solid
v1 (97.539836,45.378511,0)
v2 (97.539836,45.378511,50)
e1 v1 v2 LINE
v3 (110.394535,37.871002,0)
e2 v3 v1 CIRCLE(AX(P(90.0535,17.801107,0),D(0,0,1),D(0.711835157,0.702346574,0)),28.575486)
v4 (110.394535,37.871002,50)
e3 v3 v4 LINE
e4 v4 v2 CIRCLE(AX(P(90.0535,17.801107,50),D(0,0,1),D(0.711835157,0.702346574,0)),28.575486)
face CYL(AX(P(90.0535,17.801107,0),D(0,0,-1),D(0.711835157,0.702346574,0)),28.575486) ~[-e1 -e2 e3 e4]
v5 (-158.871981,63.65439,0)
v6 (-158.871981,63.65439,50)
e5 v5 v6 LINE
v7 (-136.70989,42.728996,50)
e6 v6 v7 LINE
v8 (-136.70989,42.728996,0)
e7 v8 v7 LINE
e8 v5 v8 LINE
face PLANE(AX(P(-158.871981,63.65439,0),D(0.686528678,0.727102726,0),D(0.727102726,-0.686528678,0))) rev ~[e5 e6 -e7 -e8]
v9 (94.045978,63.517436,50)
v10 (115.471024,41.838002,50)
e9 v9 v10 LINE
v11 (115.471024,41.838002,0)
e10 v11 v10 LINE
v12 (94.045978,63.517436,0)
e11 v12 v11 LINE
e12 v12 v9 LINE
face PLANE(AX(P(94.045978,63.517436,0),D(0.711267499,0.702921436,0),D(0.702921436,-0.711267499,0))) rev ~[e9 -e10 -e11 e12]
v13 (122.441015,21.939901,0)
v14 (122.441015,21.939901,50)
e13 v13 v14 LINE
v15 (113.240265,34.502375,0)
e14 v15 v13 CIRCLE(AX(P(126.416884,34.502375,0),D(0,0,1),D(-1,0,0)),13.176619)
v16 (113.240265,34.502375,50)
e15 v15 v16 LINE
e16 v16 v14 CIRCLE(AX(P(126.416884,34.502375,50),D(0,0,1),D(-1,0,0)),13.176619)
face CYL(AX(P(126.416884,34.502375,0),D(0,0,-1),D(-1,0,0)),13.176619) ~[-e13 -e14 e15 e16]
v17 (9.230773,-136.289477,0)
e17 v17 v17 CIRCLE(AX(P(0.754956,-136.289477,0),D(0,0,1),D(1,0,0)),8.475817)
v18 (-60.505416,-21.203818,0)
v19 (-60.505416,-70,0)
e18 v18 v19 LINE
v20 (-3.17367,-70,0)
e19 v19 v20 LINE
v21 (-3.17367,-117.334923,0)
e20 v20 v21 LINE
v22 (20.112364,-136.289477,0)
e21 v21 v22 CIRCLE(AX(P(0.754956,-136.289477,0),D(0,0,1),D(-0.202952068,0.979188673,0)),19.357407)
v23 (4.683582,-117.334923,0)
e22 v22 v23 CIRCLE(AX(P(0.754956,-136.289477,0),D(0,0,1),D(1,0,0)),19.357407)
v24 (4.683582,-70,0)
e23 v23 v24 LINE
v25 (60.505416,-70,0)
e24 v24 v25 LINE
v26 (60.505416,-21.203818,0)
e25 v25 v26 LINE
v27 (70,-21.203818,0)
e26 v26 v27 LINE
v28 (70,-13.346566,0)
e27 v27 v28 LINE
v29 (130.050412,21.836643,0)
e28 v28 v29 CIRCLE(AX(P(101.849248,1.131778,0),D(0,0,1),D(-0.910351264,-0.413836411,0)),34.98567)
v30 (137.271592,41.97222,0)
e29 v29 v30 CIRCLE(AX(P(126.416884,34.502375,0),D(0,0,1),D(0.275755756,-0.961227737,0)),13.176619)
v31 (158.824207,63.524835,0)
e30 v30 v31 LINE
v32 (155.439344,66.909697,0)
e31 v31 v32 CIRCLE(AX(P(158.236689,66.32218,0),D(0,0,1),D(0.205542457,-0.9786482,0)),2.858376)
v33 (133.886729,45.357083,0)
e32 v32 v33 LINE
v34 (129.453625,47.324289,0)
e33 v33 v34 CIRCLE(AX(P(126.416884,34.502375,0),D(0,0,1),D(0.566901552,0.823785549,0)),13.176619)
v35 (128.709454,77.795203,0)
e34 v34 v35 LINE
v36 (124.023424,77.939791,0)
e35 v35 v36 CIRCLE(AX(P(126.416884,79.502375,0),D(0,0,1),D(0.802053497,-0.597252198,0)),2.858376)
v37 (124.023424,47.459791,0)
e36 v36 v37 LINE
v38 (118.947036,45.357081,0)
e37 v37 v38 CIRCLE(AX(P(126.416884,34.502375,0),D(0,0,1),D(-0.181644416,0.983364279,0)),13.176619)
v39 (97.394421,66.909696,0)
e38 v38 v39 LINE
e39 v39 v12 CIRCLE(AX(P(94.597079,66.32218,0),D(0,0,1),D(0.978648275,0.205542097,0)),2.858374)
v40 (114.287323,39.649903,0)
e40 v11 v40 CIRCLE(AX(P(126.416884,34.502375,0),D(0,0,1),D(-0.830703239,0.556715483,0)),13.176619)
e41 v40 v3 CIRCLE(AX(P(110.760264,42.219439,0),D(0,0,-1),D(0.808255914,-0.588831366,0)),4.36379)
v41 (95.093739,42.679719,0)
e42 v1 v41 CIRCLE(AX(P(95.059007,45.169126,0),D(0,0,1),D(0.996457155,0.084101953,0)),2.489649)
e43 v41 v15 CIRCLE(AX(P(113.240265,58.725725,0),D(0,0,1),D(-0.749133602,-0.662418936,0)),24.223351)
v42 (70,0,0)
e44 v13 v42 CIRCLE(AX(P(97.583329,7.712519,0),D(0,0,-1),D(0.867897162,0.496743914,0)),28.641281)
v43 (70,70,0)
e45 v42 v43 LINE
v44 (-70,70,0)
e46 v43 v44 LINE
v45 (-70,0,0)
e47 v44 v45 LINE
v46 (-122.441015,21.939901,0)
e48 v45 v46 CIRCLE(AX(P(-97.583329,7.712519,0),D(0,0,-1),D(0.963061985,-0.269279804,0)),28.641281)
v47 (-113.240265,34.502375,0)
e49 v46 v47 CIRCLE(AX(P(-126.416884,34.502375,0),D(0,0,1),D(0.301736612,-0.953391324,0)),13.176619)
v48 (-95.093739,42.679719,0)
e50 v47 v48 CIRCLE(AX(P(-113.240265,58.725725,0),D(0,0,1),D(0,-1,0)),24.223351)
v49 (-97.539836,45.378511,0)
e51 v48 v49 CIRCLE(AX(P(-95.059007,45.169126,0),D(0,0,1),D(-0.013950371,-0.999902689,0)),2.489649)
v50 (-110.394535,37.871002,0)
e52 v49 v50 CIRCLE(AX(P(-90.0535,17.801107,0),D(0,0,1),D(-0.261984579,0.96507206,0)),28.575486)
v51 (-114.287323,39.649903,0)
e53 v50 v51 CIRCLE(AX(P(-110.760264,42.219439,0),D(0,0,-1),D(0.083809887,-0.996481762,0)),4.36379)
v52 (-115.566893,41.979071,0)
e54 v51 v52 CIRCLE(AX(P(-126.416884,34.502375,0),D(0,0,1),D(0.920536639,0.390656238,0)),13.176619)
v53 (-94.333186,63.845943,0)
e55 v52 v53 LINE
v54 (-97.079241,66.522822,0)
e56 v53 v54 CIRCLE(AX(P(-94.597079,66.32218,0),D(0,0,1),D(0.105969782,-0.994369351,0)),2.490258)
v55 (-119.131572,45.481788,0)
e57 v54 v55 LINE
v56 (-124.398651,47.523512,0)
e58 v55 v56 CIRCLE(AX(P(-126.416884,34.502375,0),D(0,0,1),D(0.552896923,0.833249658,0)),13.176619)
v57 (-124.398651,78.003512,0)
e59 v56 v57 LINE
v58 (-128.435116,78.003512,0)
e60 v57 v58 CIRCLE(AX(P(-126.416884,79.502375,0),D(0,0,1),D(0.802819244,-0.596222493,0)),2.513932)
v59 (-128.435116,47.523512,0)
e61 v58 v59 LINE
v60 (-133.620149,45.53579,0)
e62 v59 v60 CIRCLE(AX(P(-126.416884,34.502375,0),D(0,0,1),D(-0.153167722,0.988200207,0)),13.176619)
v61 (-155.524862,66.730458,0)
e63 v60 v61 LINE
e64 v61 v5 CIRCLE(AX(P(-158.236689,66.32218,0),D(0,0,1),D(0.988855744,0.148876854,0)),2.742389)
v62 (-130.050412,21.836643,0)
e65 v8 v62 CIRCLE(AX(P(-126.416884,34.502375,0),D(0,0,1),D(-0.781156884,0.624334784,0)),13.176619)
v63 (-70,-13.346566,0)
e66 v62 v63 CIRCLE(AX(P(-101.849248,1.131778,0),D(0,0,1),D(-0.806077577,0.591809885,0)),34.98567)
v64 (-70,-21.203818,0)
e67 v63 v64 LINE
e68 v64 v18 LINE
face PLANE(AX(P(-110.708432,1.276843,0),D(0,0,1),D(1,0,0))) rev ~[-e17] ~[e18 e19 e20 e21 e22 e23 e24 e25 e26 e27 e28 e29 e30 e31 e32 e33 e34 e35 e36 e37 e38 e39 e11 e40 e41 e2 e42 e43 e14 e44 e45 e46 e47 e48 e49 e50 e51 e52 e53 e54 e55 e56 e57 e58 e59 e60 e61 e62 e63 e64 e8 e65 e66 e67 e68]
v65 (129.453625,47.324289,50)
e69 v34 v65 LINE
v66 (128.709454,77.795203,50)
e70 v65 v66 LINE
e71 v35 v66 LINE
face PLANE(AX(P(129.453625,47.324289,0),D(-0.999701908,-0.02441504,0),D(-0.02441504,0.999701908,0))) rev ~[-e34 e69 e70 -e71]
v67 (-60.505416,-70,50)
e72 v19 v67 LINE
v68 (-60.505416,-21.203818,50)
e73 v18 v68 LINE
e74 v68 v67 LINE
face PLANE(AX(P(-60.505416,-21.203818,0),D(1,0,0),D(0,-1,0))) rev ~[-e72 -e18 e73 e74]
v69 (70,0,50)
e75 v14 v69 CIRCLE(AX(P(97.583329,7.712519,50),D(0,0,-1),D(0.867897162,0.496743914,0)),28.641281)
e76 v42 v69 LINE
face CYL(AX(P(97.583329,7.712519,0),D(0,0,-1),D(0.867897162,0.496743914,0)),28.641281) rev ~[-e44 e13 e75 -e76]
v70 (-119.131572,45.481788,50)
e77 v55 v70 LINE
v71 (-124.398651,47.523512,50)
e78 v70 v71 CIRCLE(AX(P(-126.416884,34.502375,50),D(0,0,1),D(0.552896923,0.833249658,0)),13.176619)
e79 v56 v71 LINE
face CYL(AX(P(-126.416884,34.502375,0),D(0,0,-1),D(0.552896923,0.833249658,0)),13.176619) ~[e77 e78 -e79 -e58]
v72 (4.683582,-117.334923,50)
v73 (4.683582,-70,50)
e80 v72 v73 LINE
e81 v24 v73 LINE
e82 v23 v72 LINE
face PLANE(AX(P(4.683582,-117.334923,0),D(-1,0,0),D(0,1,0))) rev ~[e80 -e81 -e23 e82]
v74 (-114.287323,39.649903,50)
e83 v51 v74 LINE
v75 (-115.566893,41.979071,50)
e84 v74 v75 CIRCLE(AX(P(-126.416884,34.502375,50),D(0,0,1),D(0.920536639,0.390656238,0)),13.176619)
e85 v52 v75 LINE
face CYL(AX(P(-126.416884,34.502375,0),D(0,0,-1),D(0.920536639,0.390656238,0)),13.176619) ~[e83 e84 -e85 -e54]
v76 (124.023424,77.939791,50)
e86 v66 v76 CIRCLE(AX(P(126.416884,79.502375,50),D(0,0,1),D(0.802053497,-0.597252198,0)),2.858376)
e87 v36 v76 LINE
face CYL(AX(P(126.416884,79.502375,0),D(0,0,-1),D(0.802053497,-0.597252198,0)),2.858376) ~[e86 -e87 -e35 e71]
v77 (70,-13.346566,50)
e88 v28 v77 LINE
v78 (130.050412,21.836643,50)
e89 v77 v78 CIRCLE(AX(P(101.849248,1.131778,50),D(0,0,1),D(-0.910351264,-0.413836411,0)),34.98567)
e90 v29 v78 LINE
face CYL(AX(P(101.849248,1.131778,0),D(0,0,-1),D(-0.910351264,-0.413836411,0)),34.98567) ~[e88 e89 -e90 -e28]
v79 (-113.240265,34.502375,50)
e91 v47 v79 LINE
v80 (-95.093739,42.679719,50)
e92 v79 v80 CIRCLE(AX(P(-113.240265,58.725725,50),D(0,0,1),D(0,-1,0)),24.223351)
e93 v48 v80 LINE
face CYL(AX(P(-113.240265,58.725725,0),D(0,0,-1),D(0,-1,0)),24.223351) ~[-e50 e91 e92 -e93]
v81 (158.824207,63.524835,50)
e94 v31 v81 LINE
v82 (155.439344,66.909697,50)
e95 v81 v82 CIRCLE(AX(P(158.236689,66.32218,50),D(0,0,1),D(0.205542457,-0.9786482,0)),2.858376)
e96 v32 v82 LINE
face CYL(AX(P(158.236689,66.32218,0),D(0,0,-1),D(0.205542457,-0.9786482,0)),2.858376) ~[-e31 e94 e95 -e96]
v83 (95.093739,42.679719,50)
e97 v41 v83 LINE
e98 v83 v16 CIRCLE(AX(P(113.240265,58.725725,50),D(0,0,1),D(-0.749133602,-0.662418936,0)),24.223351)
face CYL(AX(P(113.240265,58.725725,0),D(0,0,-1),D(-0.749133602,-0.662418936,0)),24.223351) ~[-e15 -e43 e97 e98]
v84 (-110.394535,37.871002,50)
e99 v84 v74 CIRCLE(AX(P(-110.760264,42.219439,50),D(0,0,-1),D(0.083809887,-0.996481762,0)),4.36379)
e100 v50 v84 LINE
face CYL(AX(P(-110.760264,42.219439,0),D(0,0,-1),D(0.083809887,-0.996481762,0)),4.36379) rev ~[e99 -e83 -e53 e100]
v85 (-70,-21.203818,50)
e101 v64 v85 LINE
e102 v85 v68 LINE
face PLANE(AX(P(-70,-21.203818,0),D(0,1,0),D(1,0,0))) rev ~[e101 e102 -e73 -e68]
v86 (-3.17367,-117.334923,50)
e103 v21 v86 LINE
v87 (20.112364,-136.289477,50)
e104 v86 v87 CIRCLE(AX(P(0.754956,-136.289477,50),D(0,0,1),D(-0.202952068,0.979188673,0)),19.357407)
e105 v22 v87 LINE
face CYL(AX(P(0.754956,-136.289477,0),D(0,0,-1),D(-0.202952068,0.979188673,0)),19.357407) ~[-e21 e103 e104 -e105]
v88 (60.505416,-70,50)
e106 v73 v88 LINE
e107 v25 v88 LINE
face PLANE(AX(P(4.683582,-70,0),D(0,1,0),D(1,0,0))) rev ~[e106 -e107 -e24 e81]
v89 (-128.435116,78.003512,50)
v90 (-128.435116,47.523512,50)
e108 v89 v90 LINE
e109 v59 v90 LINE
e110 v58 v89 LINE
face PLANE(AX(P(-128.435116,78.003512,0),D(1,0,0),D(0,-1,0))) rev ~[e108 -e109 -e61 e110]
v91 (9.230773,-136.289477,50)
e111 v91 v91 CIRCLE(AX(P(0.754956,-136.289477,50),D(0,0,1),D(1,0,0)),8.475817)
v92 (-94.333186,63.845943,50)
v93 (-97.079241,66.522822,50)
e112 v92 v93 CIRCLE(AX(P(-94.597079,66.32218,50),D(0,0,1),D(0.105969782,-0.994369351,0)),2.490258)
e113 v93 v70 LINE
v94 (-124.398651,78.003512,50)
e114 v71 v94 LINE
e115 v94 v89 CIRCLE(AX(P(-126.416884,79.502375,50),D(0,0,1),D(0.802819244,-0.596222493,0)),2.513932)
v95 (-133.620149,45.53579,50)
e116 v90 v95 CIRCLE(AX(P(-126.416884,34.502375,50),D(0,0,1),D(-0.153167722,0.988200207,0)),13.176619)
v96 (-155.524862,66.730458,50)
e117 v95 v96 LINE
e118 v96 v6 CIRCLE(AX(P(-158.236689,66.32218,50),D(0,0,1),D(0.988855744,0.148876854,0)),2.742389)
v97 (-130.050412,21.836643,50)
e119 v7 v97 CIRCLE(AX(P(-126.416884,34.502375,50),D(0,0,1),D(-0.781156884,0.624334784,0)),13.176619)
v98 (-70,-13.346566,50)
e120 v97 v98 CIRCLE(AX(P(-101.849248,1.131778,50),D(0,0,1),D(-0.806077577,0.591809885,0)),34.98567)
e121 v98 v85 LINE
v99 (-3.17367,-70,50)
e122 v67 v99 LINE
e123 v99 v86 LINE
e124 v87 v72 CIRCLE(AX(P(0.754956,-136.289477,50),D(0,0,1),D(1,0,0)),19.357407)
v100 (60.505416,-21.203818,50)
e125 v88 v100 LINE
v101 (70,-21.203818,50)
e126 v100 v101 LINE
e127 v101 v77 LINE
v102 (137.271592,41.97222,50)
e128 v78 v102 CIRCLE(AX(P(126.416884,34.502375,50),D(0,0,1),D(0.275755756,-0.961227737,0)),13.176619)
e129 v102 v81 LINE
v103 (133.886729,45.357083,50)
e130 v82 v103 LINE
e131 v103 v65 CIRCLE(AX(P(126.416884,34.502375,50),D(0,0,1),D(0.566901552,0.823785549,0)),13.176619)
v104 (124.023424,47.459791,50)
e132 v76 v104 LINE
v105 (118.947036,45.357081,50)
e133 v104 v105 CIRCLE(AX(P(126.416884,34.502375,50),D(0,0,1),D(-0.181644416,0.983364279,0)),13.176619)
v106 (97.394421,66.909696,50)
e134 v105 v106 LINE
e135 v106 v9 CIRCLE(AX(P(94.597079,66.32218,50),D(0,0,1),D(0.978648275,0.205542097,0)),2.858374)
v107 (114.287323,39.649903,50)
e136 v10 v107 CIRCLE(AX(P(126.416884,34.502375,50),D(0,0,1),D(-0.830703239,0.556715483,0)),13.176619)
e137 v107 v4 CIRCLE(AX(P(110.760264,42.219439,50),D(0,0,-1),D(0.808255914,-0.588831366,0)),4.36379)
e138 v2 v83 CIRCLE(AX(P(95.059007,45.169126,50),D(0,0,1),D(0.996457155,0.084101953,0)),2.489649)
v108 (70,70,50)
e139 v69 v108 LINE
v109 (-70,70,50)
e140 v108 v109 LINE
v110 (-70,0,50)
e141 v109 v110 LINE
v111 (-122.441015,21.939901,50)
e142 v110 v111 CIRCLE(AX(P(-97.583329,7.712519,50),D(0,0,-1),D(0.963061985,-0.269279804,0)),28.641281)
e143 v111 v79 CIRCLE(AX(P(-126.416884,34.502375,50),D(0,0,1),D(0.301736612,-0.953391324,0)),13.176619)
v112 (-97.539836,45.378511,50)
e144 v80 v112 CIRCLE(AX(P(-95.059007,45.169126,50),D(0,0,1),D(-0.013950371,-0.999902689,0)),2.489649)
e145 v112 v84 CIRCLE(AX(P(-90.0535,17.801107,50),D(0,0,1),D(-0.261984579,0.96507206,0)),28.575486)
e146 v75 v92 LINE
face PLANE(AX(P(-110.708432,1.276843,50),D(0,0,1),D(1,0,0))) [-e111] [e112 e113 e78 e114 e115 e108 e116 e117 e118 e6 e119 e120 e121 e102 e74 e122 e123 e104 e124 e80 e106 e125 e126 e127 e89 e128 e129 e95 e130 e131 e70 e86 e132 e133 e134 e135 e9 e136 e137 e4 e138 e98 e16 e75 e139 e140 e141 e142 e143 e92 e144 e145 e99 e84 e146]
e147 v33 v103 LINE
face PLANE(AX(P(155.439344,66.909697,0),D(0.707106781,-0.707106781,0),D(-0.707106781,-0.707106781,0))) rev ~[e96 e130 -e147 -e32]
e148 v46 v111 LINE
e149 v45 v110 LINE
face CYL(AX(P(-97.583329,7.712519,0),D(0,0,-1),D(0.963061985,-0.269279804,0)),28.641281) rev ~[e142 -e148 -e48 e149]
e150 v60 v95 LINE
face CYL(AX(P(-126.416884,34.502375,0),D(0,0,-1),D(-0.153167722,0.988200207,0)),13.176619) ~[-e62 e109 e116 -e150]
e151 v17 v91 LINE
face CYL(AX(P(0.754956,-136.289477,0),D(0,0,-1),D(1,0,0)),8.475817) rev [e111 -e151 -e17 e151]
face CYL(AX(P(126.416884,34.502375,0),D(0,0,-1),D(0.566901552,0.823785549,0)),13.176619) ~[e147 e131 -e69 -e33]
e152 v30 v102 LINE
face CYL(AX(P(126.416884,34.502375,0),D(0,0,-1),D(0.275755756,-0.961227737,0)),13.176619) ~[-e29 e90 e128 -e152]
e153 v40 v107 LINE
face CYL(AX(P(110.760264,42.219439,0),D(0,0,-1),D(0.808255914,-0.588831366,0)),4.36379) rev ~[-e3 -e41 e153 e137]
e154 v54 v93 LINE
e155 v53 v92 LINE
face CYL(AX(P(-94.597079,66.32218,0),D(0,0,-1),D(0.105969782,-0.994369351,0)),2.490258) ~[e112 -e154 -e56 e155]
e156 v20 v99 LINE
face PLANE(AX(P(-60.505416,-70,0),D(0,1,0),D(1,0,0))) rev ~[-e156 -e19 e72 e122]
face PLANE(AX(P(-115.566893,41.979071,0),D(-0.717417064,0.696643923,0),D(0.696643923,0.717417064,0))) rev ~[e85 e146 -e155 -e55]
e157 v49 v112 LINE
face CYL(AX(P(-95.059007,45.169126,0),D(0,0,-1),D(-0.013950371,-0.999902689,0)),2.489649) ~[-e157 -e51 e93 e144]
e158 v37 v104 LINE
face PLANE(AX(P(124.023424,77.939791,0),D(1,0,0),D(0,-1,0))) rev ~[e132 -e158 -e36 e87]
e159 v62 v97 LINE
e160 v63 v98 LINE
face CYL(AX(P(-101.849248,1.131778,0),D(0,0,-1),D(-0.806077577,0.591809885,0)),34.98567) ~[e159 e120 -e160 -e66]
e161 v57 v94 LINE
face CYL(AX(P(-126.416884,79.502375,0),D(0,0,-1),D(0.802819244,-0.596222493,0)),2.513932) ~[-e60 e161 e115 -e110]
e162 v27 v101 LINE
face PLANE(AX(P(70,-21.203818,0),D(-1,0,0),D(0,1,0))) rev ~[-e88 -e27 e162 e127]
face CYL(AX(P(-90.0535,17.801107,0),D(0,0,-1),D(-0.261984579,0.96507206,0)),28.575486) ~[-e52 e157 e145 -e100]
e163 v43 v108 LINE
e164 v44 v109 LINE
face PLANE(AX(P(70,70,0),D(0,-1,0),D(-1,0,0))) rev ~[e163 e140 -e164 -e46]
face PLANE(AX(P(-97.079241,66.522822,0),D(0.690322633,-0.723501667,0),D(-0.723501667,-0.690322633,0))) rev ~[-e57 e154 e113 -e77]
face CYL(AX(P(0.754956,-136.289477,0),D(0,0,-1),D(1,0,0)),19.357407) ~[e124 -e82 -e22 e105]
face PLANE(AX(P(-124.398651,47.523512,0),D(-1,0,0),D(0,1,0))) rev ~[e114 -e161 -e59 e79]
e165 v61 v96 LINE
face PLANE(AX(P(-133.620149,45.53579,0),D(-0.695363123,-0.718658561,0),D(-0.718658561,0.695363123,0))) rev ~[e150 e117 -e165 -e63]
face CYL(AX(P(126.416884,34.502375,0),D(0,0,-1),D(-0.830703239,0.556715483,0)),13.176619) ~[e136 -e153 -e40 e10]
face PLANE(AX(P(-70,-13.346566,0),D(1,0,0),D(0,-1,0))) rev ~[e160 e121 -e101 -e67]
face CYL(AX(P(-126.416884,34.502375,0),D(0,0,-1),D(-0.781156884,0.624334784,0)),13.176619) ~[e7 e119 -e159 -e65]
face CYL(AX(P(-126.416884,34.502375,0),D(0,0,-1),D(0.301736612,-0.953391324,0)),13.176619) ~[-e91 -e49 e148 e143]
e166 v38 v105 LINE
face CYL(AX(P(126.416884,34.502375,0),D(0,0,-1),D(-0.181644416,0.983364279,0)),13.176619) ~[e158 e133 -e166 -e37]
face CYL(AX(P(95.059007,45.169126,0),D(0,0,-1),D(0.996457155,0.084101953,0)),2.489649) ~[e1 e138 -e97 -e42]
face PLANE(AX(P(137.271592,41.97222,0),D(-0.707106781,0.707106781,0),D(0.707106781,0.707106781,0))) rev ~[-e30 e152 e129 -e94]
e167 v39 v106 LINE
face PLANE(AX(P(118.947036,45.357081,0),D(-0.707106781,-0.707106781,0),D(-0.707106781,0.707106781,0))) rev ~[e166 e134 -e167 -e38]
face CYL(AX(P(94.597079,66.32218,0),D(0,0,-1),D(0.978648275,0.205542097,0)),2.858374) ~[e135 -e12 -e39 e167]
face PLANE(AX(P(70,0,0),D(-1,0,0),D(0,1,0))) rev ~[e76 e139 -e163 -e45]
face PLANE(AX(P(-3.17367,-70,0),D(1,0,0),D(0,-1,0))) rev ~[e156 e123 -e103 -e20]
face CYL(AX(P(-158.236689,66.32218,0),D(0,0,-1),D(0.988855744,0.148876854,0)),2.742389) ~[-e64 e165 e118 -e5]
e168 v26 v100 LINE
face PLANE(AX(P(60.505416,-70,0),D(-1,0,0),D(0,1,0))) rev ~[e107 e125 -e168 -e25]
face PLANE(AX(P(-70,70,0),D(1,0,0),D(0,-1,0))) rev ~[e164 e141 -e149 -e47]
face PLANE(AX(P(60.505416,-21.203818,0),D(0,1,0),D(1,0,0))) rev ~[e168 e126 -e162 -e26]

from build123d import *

# Parameters (mm, degrees)
F0_W     = 8.2024587318
F0_H     = 14.9754456007
F0_W_2   = 7.8511701431
F0_W_3   = 6.1057833955
F0_W_4   = 7.9714395106
F0_W_5   = 7.8018347267
F0_R     = 8.4758171695
F0_W_6   = 12.1613740921
F0_H_2   = 5.3091626614
F0_W_7   = 15.6213007867
F0_H_3   = 4.9807038158
F0_W_8   = 18.6961237341
F0_H_4   = 5.3202975541
F0_H_5   = 5.4446328431
F0_H_6   = 5.7703666389
F0_W_9   = 15.5081027187
F0_H_7   = 5.2070990205
F0_H_8   = 4.8675052822
F0_H_9   = 5.4084993899
F1_DEPTH = 50


with BuildPart() as f1:
    # F0 (on Top) → F1 (new body)
    with BuildSketch(Plane.XY):
        with BuildLine():
            ThreePointArc((-130.0504121954, 21.8366431133), (-119.5351660381, -29.0544007963), (-70, -13.3465658873))
            Line((-70, -13.3465658873), (-70, 0))
            ThreePointArc((-70, 0), (-108.6376082105, -18.7095534221), (-122.4410153952, 21.939900542))
            ThreePointArc((-122.4410153952, 21.939900542), (-115.7864607632, 26.7166574775), (-113.2402649142, 34.5023745845))
            ThreePointArc((-113.2402649142, 34.5023745845), (-113.504682577, 37.1288446093), (-114.2873233284, 39.649902908))
            ThreePointArc((-114.2873233284, 39.649902908), (-114.8682389509, 40.8468278409), (-115.5668931987, 41.9790709674))
            ThreePointArc((-115.5668931987, 41.9790709674), (-117.1816492611, 43.9009770114), (-119.131571718, 45.4817876878))
            ThreePointArc((-119.131571718, 45.4817876878), (-121.6544110929, 46.7882256944), (-124.398651027, 47.5235120068))
            ThreePointArc((-124.398651027, 47.5235120068), (-126.416883712, 47.6789933823), (-128.435116397, 47.5235120068))
            ThreePointArc((-128.435116397, 47.5235120068), (-131.1335313279, 46.8058910822), (-133.6201487451, 45.5357900033))
            ThreePointArc((-133.6201487451, 45.5357900033), (-135.2768725539, 44.2555218029), (-136.7098901894, 42.7289960416))
            ThreePointArc((-136.7098901894, 42.7289960416), (-138.9711537713, 30.5006766677), (-130.0504121954, 21.8366431133))
        make_face()
        Polygon((-60.5054162443, -21.2038177997), (-60.5054162443, -70), (-3.1736695673, -70), (4.6835821122, -70), (60.5054162443, -70), (60.5054162443, -21.2038177997), (70, -21.2038177997), (70, -13.3465658873), (70, 0), (70, 70), (-70, 70), (-70, 0), (-70, -13.3465658873), (-70, -21.2038177997), align=None)
        with BuildLine():
            ThreePointArc((-43.5259640217, -35.8406656981), (-42.5875064789, -55.7965331861), (-45.3945958096, -36.01680621))
            Line((-45.3945958096, -36.01680621), (-43.5259640217, -45.8406656981))
            Line((-43.5259640217, -45.8406656981), (-43.5259640217, -35.8406656981))
        make_face(mode=Mode.SUBTRACT)
        with BuildLine():
            ThreePointArc((-23.7259689531, -44.2763551831), (-3.9628669783, -47.186751296), (-23.9153972382, -46.2135393839))
            Line((-23.9153972382, -46.2135393839), (-13.9153972382, -46.2135393839))
            Line((-13.9153972382, -46.2135393839), (-23.7259689531, -44.2763551831))
        make_face(mode=Mode.SUBTRACT)
        with BuildLine():
            ThreePointArc((19.5891654442, -54.8887500712), (9.3177240714, -37.773142046), (21.6384869115, -53.4780886866))
            Line((21.6384869115, -53.4780886866), (14.9877956137, -46.0102707148))
            Line((14.9877956137, -46.0102707148), (19.5891654442, -54.8887500712))
        make_face(mode=Mode.SUBTRACT)
        with BuildLine():
            ThreePointArc((54.2939669435, -47.4309626042), (34.5934502284, -44.1615858906), (54.5334093753, -45.2557577961))
            Line((54.5334093753, -45.2557577961), (44.5334093753, -45.2557577961))
            Line((44.5334093753, -45.2557577961), (54.2939669435, -47.4309626042))
        make_face(mode=Mode.SUBTRACT)
        Polygon((-29.1168112308, 17.9860703647), (-47.8129349649, 17.9860703647), (-47.8129349649, 23.3945697546), (-47.8129349649, 28.7148673087), (-47.8129349649, 33.6955711246), (-47.8129349649, 39.1402039677), (-47.8129349649, 44.4493666291), (-47.8129349649, 49.6564656496), (-47.8129349649, 54.5239709318), (-47.8129349649, 60.2943375707), (-29.1168112308, 60.2943375707), (-10.7625117525, 60.2943375707), (4.5221573673, 60.2943375707), (20.0302600861, 60.2943375707), (35.6515608728, 60.2943375707), (47.8129349649, 60.2943375707), (47.8129349649, 54.5239709318), (47.8129349649, 49.6564656496), (47.8129349649, 44.4493666291), (47.8129349649, 39.1402039677), (47.8129349649, 33.6955711246), (47.8129349649, 28.7148673087), (47.8129349649, 23.3945697546), (47.8129349649, 17.9860703647), (35.6515608728, 17.9860703647), (20.0302600861, 17.9860703647), (4.5221573673, 17.9860703647), (-10.3591205552, 17.9860703647), align=None, mode=Mode.SUBTRACT)
        Polygon((-10.1461857557, -13.2323872645), (-18.1176252663, -13.2323872645), (-18.1176252663, 1.7430583362), (-10.1461857557, 1.7430583362), (-4.0404023603, 1.7430583362), (3.7614323664, 1.7430583362), (11.6126025096, 1.7430583362), (19.8150612414, 1.7430583362), (19.8150612414, -13.2323872645), (11.6126025096, -13.2323872645), (3.7614323664, -13.2323872645), (-4.0404023603, -13.2323872645), align=None, mode=Mode.SUBTRACT)
        with BuildLine():
            Line((70, 0), (70, -13.3465658873))
            ThreePointArc((70, -13.3465658873), (119.5351660381, -29.0544007963), (130.0504121954, 21.8366431133))
            ThreePointArc((130.0504121954, 21.8366431133), (138.8200130193, 30.0542664106), (137.2715918614, 41.9722202276))
            ThreePointArc((137.2715918614, 41.9722202276), (135.734160217, 43.8196510895), (133.8867293551, 45.3570827339))
            ThreePointArc((133.8867293551, 45.3570827339), (131.7614666088, 46.5464069906), (129.4536248278, 47.3242888853))
            ThreePointArc((129.4536248278, 47.3242888853), (126.7455827995, 47.674892941), (124.0234244804, 47.4597908334))
            ThreePointArc((124.0234244804, 47.4597908334), (121.3744087449, 46.6759824781), (118.9470358244, 45.3570811894))
            ThreePointArc((118.9470358244, 45.3570811894), (117.0424209259, 43.7621116442), (115.4710238, 41.8380022828))
            ThreePointArc((115.4710238, 41.8380022828), (114.8274186608, 40.7719505485), (114.2873233284, 39.649902908))
            ThreePointArc((114.2873233284, 39.649902908), (113.504682577, 37.1288446093), (113.2402649142, 34.5023745845))
            ThreePointArc((113.2402649142, 34.5023745845), (115.7864607632, 26.7166574775), (122.4410153952, 21.939900542))
            ThreePointArc((122.4410153952, 21.939900542), (108.6376082105, -18.7095534221), (70, 0))
        make_face()
        with BuildLine():
            ThreePointArc((95.0937389393, 42.679719094), (103.288313244, 36.6411293585), (113.2402649142, 34.5023745845))
            ThreePointArc((113.2402649142, 34.5023745845), (113.504682577, 37.1288446093), (114.2873233284, 39.649902908))
            ThreePointArc((114.2873233284, 39.649902908), (112.5739963411, 38.250429476), (110.3945353679, 37.8710021204))
            ThreePointArc((110.3945353679, 37.8710021204), (104.4646528089, 42.4765419774), (97.539836383, 45.3785106205))
            ThreePointArc((97.539836383, 45.3785106205), (93.2143177046, 46.8410933875), (95.0937389393, 42.679719094))
        make_face()
        with BuildLine():
            Line((94.0459784419, 63.5174356565), (115.4710238, 41.8380022828))
            ThreePointArc((115.4710238, 41.8380022828), (117.0424209259, 43.7621116442), (118.9470358244, 45.3570811894))
            Line((118.9470358244, 45.3570811894), (97.3944211338, 66.9096958799))
            ThreePointArc((97.3944211338, 66.9096958799), (92.5628075217, 68.330174272), (94.0459784419, 63.5174356565))
        make_face()
        with BuildLine():
            ThreePointArc((124.0234244804, 47.4597908334), (126.7455827995, 47.674892941), (129.4536248278, 47.3242888853))
            Line((129.4536248278, 47.3242888853), (128.7094544186, 77.7952030561))
            ThreePointArc((128.7094544186, 77.7952030561), (126.5050371575, 82.3593912177), (124.0234244804, 77.9397908334))
            Line((124.0234244804, 77.9397908334), (124.0234244804, 47.4597908334))
        make_face()
        with BuildLine():
            ThreePointArc((133.8867293551, 45.3570827339), (135.734160217, 43.8196510895), (137.2715918614, 41.9722202276))
            Line((137.2715918614, 41.9722202276), (158.824206552, 63.5248349182))
            ThreePointArc((158.824206552, 63.5248349182), (160.2578661303, 68.3433570028), (155.4393440457, 66.9096974245))
            Line((155.4393440457, 66.9096974245), (133.8867293551, 45.3570827339))
        make_face()
        with BuildLine():
            Line((-158.8719812907, 63.6543901362), (-136.7098901894, 42.7289960416))
            ThreePointArc((-136.7098901894, 42.7289960416), (-135.2768725539, 44.2555218029), (-133.6201487451, 45.5357900033))
            Line((-133.6201487451, 45.5357900033), (-155.5248616789, 66.7304579953))
            ThreePointArc((-155.5248616789, 66.7304579953), (-160.0923686659, 68.3413751972), (-158.8719812907, 63.6543901362))
        make_face()
        with BuildLine():
            Line((-128.435116397, 78.0035120068), (-128.435116397, 47.5235120068))
            ThreePointArc((-128.435116397, 47.5235120068), (-126.416883712, 47.6789933823), (-124.398651027, 47.5235120068))
            Line((-124.398651027, 47.5235120068), (-124.398651027, 78.0035120068))
            ThreePointArc((-124.398651027, 78.0035120068), (-126.416883712, 82.016306206), (-128.435116397, 78.0035120068))
        make_face()
        with BuildLine():
            ThreePointArc((-119.131571718, 45.4817876878), (-117.1816492611, 43.9009770114), (-115.5668931987, 41.9790709674))
            Line((-115.5668931987, 41.9790709674), (-94.333186417, 63.8459430874))
            ThreePointArc((-94.333186417, 63.8459430874), (-92.8588034867, 68.1053754047), (-97.0792408983, 66.5228215363))
            Line((-97.0792408983, 66.5228215363), (-119.131571718, 45.4817876878))
        make_face()
        with BuildLine():
            ThreePointArc((-114.2873233284, 39.649902908), (-113.504682577, 37.1288446093), (-113.2402649142, 34.5023745845))
            ThreePointArc((-113.2402649142, 34.5023745845), (-103.288313244, 36.6411293585), (-95.0937389393, 42.679719094))
            ThreePointArc((-95.0937389393, 42.679719094), (-93.2143177046, 46.8410933875), (-97.539836383, 45.3785106205))
            ThreePointArc((-97.539836383, 45.3785106205), (-104.4646528089, 42.4765419774), (-110.3945353679, 37.8710021204))
            ThreePointArc((-110.3945353679, 37.8710021204), (-112.5739963411, 38.250429476), (-114.2873233284, 39.649902908))
        make_face()
        with BuildLine():
            Line((-43.5259640217, -45.8406656981), (-45.3945958096, -36.01680621))
            ThreePointArc((-45.3945958096, -36.01680621), (-42.5875064789, -55.7965331861), (-43.5259640217, -35.8406656981))
            Line((-43.5259640217, -35.8406656981), (-43.5259640217, -45.8406656981))
        make_face()
        with BuildLine():
            Line((-13.9153972382, -46.2135393839), (-23.9153972382, -46.2135393839))
            ThreePointArc((-23.9153972382, -46.2135393839), (-3.9628669783, -47.186751296), (-23.7259689531, -44.2763551831))
            Line((-23.7259689531, -44.2763551831), (-13.9153972382, -46.2135393839))
        make_face()
        with BuildLine():
            Line((14.9877956137, -46.0102707148), (21.6384869115, -53.4780886866))
            ThreePointArc((21.6384869115, -53.4780886866), (9.3177240714, -37.773142046), (19.5891654442, -54.8887500712))
            Line((19.5891654442, -54.8887500712), (14.9877956137, -46.0102707148))
        make_face()
        with BuildLine():
            Line((44.5334093753, -45.2557577961), (54.5334093753, -45.2557577961))
            ThreePointArc((54.5334093753, -45.2557577961), (34.5934502284, -44.1615858906), (54.2939669435, -47.4309626042))
            Line((54.2939669435, -47.4309626042), (44.5334093753, -45.2557577961))
        make_face()
        with Locations((15.7138318755, -5.7446644641)):
            Rectangle(F0_W, F0_H)
        with Locations((7.687017438, -5.7446644641)):
            Rectangle(F0_W_2, F0_H)
        with Locations((-7.093294058, -5.7446644641)):
            Rectangle(F0_W_3, F0_H)
        with Locations((-14.131905511, -5.7446644641)):
            Rectangle(F0_W_4, F0_H)
        with Locations((-0.1394849969, -5.7446644641)):
            Rectangle(F0_W_5, F0_H)
        with BuildLine():
            Line((4.6835821122, -70), (-3.1736695673, -70))
            Line((-3.1736695673, -70), (-3.1736695673, -117.3349233655))
            ThreePointArc((-3.1736695673, -117.3349233655), (0.7549562724, -116.9320700406), (4.6835821122, -117.3349233655))
            Line((4.6835821122, -117.3349233655), (4.6835821122, -70))
        make_face()
        with BuildLine():
            ThreePointArc((4.6835821122, -117.3349233655), (0.7549562724, -116.9320700406), (-3.1736695673, -117.3349233655))
            ThreePointArc((-3.1736695673, -117.3349233655), (-11.4651338896, -151.3020925139), (20.1123635802, -136.2894773483))
            ThreePointArc((20.1123635802, -136.2894773483), (15.767571438, -124.0693871863), (4.6835821122, -117.3349233655))
        make_face()
        with Locations((0.7549562724, -136.2894773483)):
            Circle(F0_R, mode=Mode.SUBTRACT)
        with Locations((41.7322479188, 41.7947852984)):
            Rectangle(F0_W_6, F0_H_2)
        with Locations((27.8409104794, 31.2052192166)):
            Rectangle(F0_W_7, F0_H_3)
        with Locations((-38.4648730978, 26.0547185317)):
            Rectangle(F0_W_8, F0_H_4)
        Polygon((-10.5089039129, 33.6955711246), (-10.4614150364, 28.7148673087), (4.5221573673, 28.7148673087), (4.5221573673, 33.6955711246), align=None)
        with Locations((27.8409104794, 36.4178875461)):
            Rectangle(F0_W_7, F0_H_5)
        with Locations((27.8409104794, 57.4091542512)):
            Rectangle(F0_W_7, F0_H_6)
        Polygon((-29.1168112308, 33.6955711246), (-29.1168112308, 28.7148673087), (-10.4614150364, 28.7148673087), (-10.5089039129, 33.6955711246), align=None)
        with Locations((41.7322479188, 26.0547185317)):
            Rectangle(F0_W_6, F0_H_4)
        Polygon((-10.4106882792, 23.3945697546), (-10.3591205552, 17.9860703647), (4.5221573673, 17.9860703647), (4.5221573673, 23.3945697546), align=None)
        Polygon((-29.1168112308, 23.3945697546), (-29.1168112308, 17.9860703647), (-10.3591205552, 17.9860703647), (-10.4106882792, 23.3945697546), align=None)
        Polygon((-29.1168112308, 60.2943375707), (-29.1168112308, 54.5239709318), (-10.7074937794, 54.5239709318), (-10.7625117525, 60.2943375707), align=None)
        Polygon((-29.1168112308, 54.5239709318), (-29.1168112308, 49.6564656496), (-10.6610842025, 49.6564656496), (-10.7074937794, 54.5239709318), align=None)
        with Locations((12.2762087267, 31.2052192166)):
            Rectangle(F0_W_9, F0_H_3)
        with Locations((27.8409104794, 41.7947852984)):
            Rectangle(F0_W_7, F0_H_2)
        Polygon((-29.1168112308, 39.1402039677), (-29.1168112308, 33.6955711246), (-10.5089039129, 33.6955711246), (-10.5608161539, 39.1402039677), align=None)
        with Locations((12.2762087267, 47.0529161394)):
            Rectangle(F0_W_9, F0_H_7)
        with Locations((41.7322479188, 31.2052192166)):
            Rectangle(F0_W_6, F0_H_3)
        with Locations((-38.4648730978, 31.2052192166)):
            Rectangle(F0_W_8, F0_H_3)
        Polygon((-10.7074937794, 54.5239709318), (-10.6610842025, 49.6564656496), (4.5221573673, 49.6564656496), (4.5221573673, 54.5239709318), align=None)
        with Locations((12.2762087267, 52.0902182907)):
            Rectangle(F0_W_9, F0_H_8)
        with Locations((-38.4648730978, 36.4178875461)):
            Rectangle(F0_W_8, F0_H_5)
        with Locations((27.8409104794, 47.0529161394)):
            Rectangle(F0_W_7, F0_H_7)
        Polygon((-29.1168112308, 28.7148673087), (-29.1168112308, 23.3945697546), (-10.4106882792, 23.3945697546), (-10.4614150364, 28.7148673087), align=None)
        with Locations((41.7322479188, 36.4178875461)):
            Rectangle(F0_W_6, F0_H_5)
        with Locations((41.7322479188, 20.6903200597)):
            Rectangle(F0_W_6, F0_H_9)
        Polygon((-10.4614150364, 28.7148673087), (-10.4106882792, 23.3945697546), (4.5221573673, 23.3945697546), (4.5221573673, 28.7148673087), align=None)
        with Locations((-38.4648730978, 20.6903200597)):
            Rectangle(F0_W_8, F0_H_9)
        Polygon((-10.7625117525, 60.2943375707), (-10.7074937794, 54.5239709318), (4.5221573673, 54.5239709318), (4.5221573673, 60.2943375707), align=None)
        with Locations((41.7322479188, 47.0529161394)):
            Rectangle(F0_W_6, F0_H_7)
        with Locations((12.2762087267, 20.6903200597)):
            Rectangle(F0_W_9, F0_H_9)
        with Locations((41.7322479188, 52.0902182907)):
            Rectangle(F0_W_6, F0_H_8)
        with Locations((27.8409104794, 20.6903200597)):
            Rectangle(F0_W_7, F0_H_9)
        with Locations((27.8409104794, 52.0902182907)):
            Rectangle(F0_W_7, F0_H_8)
        with Locations((-38.4648730978, 41.7947852984)):
            Rectangle(F0_W_8, F0_H_2)
        with Locations((41.7322479188, 57.4091542512)):
            Rectangle(F0_W_6, F0_H_6)
        with Locations((12.2762087267, 57.4091542512)):
            Rectangle(F0_W_9, F0_H_6)
        with Locations((12.2762087267, 26.0547185317)):
            Rectangle(F0_W_9, F0_H_4)
        with Locations((-38.4648730978, 57.4091542512)):
            Rectangle(F0_W_8, F0_H_6)
        Polygon((-29.1168112308, 49.6564656496), (-29.1168112308, 44.4493666291), (-10.6114367447, 44.4493666291), (-10.6610842025, 49.6564656496), align=None)
        Polygon((-10.6610842025, 49.6564656496), (-10.6114367447, 44.4493666291), (4.5221573673, 44.4493666291), (4.5221573673, 49.6564656496), align=None)
        Polygon((-10.6114367447, 44.4493666291), (-10.5608161539, 39.1402039677), (4.5221573673, 39.1402039677), (4.5221573673, 44.4493666291), align=None)
        with Locations((-38.4648730978, 52.0902182907)):
            Rectangle(F0_W_8, F0_H_8)
        with Locations((12.2762087267, 41.7947852984)):
            Rectangle(F0_W_9, F0_H_2)
        Polygon((-10.5608161539, 39.1402039677), (-10.5089039129, 33.6955711246), (4.5221573673, 33.6955711246), (4.5221573673, 39.1402039677), align=None)
        Polygon((-29.1168112308, 44.4493666291), (-29.1168112308, 39.1402039677), (-10.5608161539, 39.1402039677), (-10.6114367447, 44.4493666291), align=None)
        with Locations((27.8409104794, 26.0547185317)):
            Rectangle(F0_W_7, F0_H_4)
        with Locations((12.2762087267, 36.4178875461)):
            Rectangle(F0_W_9, F0_H_5)
        with Locations((-38.4648730978, 47.0529161394)):
            Rectangle(F0_W_8, F0_H_7)
    extrude(amount=F1_DEPTH)


solid = f1.part
